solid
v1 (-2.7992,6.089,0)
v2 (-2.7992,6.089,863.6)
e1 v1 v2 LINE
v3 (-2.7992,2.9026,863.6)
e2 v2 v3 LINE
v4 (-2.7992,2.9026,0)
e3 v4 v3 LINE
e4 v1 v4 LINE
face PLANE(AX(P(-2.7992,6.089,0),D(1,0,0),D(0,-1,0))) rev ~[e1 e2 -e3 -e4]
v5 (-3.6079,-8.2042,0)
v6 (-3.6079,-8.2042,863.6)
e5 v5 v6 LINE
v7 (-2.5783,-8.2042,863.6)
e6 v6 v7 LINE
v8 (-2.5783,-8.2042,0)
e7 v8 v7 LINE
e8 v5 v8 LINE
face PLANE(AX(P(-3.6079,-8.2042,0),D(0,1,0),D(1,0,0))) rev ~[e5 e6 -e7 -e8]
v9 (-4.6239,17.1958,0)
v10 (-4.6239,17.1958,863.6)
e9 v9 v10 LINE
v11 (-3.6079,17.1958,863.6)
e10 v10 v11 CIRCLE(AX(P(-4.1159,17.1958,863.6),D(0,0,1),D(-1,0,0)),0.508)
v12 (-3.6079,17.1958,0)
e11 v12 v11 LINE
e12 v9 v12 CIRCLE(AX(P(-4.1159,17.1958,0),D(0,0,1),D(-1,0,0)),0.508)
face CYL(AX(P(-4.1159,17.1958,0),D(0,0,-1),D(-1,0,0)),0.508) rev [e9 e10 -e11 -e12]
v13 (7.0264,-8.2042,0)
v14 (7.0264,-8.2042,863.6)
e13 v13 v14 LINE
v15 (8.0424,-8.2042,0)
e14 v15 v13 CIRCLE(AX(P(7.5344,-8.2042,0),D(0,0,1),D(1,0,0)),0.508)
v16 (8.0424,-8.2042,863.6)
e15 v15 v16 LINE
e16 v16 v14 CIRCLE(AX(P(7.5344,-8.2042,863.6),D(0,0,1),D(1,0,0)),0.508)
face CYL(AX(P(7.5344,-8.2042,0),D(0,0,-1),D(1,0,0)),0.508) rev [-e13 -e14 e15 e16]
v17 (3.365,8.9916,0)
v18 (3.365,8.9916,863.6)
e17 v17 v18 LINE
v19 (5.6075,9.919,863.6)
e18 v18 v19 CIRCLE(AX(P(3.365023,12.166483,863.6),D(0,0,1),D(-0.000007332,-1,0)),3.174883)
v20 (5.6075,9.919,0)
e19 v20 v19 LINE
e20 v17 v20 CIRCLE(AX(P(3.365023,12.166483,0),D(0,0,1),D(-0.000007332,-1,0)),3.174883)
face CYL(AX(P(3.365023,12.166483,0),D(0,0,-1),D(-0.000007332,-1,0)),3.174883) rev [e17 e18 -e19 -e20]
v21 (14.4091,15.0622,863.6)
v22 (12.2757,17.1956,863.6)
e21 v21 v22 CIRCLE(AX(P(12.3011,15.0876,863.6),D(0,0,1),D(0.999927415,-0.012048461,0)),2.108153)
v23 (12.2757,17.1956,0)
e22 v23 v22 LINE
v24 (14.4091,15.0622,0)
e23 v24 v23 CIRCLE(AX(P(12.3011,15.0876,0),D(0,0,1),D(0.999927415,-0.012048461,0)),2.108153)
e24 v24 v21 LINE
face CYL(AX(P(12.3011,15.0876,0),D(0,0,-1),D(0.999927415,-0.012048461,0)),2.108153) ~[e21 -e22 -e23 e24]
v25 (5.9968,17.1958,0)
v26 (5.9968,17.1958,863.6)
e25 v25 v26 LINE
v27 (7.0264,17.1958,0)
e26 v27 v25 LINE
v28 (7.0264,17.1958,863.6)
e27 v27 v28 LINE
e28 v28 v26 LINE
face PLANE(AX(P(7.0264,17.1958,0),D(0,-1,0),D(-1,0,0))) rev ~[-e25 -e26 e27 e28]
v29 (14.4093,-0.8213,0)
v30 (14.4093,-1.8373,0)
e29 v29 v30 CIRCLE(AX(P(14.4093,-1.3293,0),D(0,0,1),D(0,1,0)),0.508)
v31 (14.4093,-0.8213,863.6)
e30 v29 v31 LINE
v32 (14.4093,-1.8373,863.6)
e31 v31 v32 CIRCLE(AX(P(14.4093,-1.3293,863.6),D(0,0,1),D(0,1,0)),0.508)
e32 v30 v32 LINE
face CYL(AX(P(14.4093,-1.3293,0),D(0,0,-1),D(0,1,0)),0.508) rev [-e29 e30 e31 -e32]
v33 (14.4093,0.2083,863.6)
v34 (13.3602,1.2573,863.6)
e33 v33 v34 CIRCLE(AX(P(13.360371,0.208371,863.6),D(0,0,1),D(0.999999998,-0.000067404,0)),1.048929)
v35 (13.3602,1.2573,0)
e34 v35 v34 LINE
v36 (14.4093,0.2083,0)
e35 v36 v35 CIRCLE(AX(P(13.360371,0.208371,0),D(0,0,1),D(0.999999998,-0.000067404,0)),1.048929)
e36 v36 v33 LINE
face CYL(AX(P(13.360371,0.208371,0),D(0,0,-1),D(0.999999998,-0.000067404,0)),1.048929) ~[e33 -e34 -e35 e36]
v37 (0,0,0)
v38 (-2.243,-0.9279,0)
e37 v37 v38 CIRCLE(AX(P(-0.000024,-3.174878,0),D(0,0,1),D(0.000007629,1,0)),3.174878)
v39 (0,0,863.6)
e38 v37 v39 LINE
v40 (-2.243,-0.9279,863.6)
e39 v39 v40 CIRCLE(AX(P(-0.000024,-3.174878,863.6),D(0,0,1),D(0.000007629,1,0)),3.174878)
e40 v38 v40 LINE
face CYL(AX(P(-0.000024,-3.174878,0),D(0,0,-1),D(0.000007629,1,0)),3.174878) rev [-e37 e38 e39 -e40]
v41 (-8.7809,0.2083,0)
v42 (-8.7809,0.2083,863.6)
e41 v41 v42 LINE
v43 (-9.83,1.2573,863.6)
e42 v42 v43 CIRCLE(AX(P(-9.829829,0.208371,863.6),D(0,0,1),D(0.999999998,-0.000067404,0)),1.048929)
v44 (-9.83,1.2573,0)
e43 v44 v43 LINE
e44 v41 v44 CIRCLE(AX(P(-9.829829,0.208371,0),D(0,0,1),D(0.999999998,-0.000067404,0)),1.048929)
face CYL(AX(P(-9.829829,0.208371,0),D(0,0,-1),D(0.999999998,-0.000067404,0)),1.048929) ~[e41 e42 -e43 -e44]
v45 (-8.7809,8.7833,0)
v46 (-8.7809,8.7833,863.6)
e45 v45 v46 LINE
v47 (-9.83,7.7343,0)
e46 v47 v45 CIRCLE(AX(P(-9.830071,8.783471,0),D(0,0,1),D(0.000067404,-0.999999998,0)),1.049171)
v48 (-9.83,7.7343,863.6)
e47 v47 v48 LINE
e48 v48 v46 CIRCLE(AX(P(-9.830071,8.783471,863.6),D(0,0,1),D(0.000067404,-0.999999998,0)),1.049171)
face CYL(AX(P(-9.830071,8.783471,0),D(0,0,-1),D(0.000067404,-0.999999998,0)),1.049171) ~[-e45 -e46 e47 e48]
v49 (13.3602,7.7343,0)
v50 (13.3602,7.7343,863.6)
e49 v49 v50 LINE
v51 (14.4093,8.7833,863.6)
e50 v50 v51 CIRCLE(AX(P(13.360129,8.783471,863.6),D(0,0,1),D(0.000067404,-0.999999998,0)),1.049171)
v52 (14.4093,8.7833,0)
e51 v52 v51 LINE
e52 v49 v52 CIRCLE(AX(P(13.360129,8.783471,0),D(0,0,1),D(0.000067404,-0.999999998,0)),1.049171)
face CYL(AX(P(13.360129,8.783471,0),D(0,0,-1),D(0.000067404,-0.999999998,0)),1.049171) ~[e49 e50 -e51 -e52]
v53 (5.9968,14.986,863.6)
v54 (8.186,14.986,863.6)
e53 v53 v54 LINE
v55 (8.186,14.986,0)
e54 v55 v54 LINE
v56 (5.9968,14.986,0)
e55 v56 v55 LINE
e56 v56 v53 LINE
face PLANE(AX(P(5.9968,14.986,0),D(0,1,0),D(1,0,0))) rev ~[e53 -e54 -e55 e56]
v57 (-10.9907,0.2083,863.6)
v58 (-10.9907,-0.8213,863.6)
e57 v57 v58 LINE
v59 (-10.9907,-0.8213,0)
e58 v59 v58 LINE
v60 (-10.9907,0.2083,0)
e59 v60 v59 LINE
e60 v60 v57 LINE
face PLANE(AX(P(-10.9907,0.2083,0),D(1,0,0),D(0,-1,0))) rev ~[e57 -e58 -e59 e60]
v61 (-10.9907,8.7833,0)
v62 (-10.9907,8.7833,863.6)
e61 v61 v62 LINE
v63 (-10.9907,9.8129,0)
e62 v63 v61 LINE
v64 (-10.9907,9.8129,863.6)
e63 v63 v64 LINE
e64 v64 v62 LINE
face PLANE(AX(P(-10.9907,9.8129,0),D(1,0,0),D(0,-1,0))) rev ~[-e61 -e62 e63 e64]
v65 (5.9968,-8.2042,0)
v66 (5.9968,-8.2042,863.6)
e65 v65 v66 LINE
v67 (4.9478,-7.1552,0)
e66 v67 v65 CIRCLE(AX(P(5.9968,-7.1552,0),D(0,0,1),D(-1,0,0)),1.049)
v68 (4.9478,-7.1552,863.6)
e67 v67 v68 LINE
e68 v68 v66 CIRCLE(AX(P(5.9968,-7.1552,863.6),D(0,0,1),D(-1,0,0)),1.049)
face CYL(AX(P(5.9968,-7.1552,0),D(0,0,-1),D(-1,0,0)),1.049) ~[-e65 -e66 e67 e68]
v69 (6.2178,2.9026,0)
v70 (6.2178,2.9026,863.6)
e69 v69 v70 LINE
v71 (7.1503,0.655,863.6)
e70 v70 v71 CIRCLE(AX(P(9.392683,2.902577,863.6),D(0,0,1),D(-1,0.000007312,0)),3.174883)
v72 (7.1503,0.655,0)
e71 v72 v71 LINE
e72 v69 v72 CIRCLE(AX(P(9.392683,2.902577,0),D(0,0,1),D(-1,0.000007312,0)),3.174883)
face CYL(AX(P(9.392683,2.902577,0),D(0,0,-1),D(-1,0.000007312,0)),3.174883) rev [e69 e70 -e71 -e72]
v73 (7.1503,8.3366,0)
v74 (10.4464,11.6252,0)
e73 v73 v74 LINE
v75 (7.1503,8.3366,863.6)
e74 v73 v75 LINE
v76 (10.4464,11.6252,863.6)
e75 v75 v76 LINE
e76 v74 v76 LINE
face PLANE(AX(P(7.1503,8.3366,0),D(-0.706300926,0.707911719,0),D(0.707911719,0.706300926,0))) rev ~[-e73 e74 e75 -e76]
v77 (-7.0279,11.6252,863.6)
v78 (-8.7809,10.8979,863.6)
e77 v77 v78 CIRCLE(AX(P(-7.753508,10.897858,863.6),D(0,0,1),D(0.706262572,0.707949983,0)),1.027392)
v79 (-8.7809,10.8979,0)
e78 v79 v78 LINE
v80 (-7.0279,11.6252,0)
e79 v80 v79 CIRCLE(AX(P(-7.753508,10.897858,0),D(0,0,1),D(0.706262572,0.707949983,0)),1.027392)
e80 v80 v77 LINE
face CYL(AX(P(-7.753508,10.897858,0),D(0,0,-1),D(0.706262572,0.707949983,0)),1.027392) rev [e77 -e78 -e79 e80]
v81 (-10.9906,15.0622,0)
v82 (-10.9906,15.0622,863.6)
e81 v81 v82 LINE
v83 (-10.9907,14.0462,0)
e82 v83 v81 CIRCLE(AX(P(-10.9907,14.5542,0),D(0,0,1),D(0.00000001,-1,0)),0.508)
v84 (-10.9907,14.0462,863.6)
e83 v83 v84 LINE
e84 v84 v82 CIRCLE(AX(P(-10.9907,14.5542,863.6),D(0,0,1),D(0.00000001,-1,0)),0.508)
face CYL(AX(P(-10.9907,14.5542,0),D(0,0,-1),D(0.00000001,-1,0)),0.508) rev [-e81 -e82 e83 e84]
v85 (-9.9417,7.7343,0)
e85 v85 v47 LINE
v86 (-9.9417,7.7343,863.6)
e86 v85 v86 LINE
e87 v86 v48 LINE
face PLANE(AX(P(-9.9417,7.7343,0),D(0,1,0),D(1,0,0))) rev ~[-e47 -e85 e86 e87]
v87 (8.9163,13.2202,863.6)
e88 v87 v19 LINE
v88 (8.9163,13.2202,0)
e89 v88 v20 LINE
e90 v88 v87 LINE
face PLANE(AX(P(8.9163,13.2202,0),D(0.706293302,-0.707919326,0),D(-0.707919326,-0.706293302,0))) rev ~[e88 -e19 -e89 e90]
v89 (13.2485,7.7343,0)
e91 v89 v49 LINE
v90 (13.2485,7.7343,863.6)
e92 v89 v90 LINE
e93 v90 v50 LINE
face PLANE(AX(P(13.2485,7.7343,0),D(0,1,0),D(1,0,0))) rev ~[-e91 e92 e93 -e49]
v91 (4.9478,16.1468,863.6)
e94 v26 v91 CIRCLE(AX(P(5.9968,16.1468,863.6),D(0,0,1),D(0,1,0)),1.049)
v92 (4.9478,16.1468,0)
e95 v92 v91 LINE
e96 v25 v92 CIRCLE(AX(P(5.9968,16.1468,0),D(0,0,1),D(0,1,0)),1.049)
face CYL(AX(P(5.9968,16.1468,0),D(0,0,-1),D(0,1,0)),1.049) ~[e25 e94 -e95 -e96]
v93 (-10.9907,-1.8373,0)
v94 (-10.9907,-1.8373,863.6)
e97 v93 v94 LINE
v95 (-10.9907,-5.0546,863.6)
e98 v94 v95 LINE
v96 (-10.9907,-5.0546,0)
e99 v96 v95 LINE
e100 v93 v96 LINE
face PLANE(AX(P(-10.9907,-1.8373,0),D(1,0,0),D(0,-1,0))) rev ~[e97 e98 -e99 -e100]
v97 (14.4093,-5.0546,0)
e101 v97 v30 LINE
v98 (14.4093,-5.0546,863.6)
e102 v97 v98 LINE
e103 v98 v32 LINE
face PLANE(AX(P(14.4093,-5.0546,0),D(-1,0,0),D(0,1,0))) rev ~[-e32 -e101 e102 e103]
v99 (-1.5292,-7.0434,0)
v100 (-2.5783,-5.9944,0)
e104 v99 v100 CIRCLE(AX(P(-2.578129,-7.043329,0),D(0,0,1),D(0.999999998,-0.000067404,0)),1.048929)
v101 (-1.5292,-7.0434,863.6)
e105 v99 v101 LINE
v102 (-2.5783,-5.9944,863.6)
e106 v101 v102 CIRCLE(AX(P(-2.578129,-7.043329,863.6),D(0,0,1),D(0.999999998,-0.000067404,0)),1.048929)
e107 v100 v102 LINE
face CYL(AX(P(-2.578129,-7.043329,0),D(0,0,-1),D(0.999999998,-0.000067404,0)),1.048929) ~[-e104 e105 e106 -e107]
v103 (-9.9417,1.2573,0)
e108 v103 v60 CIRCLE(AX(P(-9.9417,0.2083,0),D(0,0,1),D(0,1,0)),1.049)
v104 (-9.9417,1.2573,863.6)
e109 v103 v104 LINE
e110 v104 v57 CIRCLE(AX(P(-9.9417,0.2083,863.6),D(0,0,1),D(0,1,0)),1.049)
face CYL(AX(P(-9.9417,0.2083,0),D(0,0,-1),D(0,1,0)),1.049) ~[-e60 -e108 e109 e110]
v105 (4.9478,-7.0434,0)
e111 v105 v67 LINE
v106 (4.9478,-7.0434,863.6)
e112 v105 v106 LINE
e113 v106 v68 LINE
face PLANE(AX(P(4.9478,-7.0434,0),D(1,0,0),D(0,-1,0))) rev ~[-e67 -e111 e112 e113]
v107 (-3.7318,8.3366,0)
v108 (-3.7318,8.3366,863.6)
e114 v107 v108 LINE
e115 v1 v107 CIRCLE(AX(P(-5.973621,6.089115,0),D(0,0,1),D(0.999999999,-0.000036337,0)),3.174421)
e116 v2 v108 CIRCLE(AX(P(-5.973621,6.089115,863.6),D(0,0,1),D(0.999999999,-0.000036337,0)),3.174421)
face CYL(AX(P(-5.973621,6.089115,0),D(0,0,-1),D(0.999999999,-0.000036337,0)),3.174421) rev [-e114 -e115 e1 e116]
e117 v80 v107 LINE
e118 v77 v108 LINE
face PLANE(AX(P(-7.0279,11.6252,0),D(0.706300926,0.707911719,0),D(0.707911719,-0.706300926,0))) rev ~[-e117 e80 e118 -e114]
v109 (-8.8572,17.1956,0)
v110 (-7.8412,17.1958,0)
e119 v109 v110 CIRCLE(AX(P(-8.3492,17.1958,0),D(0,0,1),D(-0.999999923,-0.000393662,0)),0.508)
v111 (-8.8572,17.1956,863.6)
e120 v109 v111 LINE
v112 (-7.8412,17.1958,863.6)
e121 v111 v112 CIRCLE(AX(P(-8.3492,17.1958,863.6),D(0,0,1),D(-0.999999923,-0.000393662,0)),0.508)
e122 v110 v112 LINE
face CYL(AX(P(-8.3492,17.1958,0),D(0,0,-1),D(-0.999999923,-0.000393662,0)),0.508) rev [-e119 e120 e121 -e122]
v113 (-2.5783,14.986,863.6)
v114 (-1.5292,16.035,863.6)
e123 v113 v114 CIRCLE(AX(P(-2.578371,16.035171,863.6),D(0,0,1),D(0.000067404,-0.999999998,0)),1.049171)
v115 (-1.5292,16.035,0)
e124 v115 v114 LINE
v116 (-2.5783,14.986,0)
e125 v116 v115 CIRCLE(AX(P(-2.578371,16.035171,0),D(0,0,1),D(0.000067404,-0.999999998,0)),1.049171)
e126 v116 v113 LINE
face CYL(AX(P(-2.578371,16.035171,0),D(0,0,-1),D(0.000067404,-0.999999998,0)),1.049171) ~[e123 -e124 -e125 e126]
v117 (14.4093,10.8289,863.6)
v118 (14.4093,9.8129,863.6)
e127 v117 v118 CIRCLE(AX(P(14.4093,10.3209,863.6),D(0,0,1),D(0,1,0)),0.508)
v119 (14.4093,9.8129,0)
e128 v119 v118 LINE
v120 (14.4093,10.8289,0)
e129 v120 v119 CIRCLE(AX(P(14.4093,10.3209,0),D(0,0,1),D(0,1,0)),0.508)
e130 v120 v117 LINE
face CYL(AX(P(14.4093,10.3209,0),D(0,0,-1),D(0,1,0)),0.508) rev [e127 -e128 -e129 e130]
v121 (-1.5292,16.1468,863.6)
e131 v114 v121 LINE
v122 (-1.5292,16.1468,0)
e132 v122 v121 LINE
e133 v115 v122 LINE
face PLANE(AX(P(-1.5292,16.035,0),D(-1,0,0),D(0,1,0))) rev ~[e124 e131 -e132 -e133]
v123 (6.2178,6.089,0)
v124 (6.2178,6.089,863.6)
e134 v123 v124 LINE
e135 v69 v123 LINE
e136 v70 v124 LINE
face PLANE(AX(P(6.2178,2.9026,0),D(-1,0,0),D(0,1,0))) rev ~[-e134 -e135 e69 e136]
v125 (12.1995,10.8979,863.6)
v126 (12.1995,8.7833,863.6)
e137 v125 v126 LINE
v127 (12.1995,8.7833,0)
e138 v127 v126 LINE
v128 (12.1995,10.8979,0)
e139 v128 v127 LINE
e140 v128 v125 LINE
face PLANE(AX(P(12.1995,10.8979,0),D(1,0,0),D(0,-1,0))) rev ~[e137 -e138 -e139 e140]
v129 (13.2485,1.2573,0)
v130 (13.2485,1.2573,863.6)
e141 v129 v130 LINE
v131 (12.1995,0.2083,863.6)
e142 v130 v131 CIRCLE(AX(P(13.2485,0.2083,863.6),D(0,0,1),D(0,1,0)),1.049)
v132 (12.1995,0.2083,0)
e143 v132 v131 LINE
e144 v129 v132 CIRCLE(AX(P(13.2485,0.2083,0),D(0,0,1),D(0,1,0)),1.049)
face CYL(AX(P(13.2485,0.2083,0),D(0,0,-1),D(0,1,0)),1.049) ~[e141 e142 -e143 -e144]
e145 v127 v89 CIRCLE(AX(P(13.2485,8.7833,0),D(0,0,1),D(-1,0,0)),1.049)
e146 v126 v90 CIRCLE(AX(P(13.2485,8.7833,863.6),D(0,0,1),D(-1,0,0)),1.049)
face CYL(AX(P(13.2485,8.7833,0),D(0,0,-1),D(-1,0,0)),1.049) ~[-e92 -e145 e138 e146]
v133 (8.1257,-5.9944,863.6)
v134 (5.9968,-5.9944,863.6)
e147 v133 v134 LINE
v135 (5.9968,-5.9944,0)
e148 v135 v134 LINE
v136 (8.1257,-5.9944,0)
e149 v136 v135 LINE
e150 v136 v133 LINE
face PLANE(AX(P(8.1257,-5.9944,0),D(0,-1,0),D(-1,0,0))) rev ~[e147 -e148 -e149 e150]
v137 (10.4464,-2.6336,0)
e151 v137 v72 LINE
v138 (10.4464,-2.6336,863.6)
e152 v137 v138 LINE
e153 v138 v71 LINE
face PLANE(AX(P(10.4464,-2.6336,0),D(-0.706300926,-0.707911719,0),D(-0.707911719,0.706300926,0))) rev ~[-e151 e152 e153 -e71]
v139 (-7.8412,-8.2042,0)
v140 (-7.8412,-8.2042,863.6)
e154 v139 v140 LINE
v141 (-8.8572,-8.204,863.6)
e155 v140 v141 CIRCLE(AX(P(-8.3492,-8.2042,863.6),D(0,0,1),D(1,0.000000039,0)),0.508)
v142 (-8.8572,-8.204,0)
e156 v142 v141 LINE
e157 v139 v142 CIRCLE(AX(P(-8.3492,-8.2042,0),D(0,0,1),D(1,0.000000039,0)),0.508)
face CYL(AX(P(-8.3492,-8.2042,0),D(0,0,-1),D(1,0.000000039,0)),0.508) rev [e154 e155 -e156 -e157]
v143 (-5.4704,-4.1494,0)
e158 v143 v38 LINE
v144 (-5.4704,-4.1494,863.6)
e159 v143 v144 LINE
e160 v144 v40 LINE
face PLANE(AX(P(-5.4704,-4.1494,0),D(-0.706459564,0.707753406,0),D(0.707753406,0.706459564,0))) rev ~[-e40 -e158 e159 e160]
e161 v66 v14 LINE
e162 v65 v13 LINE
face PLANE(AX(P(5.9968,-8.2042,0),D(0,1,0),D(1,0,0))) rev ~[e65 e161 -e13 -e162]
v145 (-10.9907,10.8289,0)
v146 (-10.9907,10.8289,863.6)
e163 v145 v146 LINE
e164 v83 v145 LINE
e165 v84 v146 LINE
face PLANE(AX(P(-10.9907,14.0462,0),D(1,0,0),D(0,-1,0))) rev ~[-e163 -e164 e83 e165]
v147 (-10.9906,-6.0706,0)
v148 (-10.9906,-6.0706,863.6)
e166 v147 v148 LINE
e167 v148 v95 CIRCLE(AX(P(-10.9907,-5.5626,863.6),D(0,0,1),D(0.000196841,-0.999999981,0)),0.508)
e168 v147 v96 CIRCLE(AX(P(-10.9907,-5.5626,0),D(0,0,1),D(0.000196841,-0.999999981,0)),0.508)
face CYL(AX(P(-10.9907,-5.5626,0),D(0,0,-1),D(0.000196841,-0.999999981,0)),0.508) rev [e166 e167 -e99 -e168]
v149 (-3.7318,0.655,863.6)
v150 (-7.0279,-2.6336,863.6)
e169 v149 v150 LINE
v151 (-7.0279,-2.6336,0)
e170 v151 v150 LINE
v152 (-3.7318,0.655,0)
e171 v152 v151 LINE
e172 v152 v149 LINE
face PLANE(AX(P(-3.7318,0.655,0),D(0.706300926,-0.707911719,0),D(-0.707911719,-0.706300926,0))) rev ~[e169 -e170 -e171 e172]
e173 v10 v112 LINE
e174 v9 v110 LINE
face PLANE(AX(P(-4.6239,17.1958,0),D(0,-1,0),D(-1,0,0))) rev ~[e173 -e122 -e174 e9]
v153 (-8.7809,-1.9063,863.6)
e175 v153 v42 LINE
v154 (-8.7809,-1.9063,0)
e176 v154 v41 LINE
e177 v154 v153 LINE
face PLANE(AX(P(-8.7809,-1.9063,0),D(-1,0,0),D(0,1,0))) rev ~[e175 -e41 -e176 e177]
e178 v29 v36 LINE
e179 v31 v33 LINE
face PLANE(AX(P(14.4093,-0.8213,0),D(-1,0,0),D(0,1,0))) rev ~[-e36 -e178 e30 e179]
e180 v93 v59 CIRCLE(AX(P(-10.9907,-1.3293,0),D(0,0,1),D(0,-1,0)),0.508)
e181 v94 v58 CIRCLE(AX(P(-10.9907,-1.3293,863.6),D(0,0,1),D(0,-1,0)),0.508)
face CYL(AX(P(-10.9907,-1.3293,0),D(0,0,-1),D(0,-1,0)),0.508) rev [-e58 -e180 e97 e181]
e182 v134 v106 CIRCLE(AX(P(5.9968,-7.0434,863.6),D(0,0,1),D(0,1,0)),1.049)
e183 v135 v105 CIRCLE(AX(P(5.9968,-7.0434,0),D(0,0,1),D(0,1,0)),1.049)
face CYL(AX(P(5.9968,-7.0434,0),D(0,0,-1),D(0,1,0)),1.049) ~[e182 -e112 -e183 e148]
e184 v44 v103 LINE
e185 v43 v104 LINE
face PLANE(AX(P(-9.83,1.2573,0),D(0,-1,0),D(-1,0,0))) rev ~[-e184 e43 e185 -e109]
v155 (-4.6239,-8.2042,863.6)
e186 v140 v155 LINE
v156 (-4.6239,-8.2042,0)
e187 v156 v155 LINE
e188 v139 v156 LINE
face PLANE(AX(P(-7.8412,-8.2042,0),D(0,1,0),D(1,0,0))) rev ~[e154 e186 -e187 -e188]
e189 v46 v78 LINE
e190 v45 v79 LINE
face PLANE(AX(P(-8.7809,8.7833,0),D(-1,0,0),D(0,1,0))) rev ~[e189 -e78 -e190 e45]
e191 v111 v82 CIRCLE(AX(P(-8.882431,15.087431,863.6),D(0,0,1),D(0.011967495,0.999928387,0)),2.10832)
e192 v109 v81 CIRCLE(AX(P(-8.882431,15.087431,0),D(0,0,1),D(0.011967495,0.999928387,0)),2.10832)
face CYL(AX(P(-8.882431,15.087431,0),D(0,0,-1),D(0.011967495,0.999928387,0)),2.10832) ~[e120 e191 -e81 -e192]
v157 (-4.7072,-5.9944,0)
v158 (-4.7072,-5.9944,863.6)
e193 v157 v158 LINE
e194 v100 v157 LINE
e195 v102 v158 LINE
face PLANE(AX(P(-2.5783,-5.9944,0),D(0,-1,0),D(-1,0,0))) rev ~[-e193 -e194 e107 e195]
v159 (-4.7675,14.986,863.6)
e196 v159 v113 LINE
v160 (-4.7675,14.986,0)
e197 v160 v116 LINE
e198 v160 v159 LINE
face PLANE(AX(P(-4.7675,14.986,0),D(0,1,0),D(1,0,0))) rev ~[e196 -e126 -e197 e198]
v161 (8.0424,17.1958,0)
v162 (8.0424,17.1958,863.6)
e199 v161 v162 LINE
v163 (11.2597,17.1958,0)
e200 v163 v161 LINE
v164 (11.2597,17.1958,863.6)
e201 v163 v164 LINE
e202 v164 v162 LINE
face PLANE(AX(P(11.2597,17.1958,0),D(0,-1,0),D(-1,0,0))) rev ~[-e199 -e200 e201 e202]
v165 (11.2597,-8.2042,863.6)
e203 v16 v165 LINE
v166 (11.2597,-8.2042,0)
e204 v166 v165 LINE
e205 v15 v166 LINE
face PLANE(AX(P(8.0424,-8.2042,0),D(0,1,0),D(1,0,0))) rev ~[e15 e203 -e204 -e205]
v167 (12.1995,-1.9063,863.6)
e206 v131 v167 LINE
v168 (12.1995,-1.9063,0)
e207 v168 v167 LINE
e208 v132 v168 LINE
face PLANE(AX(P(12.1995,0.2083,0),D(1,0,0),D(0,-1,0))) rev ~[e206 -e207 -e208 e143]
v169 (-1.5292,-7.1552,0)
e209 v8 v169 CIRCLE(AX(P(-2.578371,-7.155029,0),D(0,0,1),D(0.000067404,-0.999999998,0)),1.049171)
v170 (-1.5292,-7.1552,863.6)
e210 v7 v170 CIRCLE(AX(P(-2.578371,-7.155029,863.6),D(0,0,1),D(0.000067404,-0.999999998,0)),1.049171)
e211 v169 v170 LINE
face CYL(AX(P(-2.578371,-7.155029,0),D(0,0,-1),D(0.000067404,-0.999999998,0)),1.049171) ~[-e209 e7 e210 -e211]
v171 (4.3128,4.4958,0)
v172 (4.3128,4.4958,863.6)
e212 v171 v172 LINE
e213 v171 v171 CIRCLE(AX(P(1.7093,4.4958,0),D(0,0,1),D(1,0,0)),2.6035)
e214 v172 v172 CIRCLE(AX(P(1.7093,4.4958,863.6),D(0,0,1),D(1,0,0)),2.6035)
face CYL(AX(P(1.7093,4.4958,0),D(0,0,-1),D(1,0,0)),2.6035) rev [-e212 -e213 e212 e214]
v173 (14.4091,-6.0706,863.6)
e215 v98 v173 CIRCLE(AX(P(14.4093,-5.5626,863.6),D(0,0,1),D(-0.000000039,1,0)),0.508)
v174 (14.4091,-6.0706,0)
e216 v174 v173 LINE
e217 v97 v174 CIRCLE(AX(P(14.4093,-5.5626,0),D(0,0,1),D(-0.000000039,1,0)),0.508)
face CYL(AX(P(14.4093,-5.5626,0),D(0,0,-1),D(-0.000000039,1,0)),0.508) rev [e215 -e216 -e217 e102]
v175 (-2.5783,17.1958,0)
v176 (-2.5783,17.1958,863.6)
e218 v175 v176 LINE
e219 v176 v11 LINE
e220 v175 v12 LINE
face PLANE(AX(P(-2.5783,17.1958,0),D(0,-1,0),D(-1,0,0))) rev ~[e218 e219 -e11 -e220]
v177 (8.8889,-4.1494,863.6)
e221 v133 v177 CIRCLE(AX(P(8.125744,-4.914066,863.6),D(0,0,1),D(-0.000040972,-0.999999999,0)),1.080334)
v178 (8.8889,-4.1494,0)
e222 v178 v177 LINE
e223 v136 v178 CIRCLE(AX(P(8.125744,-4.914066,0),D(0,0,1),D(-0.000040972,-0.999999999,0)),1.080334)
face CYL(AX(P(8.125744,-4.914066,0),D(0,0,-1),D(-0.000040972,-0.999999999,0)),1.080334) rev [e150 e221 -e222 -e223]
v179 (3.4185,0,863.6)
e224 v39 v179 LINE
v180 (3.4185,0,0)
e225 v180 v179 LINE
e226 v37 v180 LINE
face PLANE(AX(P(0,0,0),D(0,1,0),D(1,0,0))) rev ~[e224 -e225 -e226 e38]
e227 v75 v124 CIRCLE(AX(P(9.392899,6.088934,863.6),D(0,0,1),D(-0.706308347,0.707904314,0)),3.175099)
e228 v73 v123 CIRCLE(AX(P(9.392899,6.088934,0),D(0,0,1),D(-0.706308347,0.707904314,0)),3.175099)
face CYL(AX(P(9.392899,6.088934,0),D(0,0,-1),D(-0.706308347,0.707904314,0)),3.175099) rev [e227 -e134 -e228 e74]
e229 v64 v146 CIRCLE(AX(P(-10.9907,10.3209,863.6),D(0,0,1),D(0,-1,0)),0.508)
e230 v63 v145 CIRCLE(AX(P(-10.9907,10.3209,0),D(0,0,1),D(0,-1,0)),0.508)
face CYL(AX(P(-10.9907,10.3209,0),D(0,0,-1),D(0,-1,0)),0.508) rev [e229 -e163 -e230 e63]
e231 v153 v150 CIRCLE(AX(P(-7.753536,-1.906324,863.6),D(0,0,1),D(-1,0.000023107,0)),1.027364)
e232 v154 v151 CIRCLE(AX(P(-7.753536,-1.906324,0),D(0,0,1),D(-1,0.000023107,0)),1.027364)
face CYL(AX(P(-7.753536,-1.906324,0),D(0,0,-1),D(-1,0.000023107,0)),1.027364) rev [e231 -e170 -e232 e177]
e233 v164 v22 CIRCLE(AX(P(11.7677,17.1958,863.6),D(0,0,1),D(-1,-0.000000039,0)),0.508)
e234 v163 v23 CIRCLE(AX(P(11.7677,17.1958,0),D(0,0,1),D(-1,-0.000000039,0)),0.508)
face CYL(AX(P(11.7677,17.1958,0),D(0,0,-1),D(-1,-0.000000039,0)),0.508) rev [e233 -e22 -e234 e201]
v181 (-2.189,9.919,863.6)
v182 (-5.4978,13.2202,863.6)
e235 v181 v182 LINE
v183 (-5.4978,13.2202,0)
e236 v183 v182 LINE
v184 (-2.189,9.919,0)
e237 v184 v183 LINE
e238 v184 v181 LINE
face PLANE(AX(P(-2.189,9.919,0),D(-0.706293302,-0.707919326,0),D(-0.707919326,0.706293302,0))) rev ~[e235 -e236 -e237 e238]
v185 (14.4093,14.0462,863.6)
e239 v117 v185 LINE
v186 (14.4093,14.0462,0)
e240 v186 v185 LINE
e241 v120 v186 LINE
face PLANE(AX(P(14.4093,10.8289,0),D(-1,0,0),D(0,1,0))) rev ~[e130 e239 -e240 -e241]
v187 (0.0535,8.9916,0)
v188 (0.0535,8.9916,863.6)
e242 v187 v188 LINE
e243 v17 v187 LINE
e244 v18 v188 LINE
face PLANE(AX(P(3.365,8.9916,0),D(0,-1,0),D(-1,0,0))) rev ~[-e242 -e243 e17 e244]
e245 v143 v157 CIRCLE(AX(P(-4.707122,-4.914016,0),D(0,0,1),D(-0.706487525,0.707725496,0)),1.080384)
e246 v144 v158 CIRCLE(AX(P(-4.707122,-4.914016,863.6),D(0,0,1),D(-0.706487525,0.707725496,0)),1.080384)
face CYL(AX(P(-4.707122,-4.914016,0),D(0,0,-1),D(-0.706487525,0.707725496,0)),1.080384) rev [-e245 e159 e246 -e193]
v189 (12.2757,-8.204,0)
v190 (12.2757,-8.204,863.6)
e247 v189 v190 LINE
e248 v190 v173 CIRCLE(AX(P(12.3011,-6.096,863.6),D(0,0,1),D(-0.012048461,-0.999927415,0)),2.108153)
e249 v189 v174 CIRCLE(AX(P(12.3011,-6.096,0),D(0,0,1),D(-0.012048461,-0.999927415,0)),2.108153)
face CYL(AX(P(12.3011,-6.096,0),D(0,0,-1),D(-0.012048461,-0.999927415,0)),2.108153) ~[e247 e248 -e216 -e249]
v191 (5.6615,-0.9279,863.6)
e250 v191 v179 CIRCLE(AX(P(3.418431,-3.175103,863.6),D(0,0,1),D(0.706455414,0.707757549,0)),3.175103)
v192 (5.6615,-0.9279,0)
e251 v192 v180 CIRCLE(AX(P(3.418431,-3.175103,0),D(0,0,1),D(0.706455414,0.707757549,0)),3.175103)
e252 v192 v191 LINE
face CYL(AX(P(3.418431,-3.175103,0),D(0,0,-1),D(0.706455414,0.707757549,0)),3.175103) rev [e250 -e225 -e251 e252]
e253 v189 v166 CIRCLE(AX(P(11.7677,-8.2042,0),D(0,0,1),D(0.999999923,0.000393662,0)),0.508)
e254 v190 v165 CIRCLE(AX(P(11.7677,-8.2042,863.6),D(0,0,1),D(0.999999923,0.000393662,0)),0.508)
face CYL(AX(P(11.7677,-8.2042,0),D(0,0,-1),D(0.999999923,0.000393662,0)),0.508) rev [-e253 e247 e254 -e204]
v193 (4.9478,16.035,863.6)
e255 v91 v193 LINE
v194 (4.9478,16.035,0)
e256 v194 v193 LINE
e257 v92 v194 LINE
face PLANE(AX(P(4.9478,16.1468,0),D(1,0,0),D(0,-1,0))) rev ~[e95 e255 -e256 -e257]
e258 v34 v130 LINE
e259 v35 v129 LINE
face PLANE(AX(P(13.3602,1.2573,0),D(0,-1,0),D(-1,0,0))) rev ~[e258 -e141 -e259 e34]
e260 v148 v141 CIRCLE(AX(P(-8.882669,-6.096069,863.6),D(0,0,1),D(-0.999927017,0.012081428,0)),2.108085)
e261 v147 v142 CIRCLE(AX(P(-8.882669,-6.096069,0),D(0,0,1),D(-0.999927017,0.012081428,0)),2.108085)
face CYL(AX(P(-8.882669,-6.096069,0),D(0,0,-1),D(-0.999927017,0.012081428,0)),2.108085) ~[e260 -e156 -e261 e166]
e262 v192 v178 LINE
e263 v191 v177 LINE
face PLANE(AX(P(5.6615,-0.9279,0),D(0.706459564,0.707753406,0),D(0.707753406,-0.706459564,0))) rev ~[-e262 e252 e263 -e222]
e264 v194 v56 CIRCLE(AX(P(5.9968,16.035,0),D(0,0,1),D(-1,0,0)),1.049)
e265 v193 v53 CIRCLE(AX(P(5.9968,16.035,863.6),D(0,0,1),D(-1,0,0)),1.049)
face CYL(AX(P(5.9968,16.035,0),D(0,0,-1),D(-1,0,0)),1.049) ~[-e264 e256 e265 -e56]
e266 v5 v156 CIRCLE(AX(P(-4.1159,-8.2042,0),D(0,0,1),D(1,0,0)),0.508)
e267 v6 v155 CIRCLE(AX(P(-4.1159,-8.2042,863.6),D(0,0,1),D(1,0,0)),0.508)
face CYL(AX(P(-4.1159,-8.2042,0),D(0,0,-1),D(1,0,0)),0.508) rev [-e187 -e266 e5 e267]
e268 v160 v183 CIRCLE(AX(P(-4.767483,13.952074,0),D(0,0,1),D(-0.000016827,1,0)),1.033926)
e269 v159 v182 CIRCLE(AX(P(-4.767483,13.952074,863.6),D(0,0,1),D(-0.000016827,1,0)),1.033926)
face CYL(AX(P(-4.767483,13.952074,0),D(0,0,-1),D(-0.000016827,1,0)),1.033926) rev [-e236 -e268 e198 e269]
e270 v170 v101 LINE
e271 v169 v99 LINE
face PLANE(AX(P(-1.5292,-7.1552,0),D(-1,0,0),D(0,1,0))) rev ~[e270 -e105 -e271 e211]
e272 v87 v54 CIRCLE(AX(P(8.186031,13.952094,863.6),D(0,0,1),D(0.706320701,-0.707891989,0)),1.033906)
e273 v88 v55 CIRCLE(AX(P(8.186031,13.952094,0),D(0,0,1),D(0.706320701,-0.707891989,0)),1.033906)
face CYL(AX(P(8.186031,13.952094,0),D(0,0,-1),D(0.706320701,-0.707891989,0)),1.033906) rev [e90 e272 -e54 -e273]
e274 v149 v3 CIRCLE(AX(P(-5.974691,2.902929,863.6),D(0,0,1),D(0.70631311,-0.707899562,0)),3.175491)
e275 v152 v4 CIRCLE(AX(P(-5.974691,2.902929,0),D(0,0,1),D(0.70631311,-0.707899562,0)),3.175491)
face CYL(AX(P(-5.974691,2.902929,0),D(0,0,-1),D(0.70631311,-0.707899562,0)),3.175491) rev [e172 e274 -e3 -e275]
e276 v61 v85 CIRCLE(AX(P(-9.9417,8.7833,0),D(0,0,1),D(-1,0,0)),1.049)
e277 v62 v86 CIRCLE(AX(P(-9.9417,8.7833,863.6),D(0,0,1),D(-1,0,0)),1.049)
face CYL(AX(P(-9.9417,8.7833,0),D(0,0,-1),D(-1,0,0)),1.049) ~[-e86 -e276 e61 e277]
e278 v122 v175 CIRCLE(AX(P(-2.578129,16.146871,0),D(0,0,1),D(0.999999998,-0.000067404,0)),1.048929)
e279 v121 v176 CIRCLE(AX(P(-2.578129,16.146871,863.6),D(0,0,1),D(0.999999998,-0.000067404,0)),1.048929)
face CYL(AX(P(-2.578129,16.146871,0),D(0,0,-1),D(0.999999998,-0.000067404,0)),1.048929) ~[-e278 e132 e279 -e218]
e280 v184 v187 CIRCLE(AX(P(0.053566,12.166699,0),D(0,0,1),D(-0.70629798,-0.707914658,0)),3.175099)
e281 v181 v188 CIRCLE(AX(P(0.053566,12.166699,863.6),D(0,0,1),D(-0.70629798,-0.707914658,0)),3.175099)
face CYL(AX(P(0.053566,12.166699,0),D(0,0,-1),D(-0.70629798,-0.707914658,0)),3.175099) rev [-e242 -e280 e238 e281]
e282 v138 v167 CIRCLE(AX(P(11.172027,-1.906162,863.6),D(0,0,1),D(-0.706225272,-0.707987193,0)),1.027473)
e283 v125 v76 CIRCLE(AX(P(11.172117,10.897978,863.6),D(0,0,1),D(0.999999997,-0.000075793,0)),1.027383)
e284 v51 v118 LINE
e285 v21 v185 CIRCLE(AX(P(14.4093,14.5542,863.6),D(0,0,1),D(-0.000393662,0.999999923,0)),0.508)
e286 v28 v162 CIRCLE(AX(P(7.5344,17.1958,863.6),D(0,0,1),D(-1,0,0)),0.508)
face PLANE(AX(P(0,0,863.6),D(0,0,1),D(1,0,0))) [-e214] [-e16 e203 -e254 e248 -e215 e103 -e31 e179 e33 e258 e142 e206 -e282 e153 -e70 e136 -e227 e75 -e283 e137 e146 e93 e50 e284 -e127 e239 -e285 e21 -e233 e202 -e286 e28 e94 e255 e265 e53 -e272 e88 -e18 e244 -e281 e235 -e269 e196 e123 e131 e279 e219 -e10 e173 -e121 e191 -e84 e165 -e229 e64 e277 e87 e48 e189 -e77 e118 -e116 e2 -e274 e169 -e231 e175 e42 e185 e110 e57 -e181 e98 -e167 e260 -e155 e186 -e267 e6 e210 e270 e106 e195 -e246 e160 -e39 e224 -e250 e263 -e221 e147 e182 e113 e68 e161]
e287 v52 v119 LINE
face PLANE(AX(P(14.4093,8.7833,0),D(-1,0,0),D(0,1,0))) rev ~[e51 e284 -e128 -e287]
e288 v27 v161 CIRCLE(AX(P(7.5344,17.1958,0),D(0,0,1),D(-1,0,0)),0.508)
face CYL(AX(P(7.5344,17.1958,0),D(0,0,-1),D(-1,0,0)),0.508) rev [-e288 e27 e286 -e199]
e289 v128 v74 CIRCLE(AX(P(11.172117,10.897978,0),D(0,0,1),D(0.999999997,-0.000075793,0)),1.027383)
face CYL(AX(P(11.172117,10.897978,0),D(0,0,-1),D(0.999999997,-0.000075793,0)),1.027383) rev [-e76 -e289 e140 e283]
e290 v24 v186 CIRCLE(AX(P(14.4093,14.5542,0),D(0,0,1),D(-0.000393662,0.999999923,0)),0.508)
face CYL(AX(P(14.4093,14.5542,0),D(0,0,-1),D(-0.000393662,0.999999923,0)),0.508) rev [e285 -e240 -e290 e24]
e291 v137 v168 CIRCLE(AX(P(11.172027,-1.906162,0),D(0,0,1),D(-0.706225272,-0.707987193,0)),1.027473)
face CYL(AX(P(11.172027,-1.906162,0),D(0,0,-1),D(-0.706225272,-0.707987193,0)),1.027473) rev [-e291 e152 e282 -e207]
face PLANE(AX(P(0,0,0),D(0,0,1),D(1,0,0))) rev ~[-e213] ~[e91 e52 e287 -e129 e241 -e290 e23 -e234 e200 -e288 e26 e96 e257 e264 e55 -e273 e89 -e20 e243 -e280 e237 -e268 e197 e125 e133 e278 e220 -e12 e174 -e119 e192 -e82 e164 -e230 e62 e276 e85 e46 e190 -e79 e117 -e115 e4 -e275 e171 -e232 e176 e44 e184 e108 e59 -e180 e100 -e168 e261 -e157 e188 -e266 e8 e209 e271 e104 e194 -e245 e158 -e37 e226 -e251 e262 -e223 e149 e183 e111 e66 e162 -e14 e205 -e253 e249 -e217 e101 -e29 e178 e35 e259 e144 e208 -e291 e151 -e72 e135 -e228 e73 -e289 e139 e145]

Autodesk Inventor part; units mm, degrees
ref_plane "YZ Plane" through (0, 0, 0) normal (1, 0, 0) x (0, 1, 0)
ref_plane "XZ Plane" through (0, 0, 0) normal (0, 1, 0) x (-1, 0, 0)
ref_plane "XY Plane" through (0, 0, 0) normal (0, 0, 1) x (1, 0, 0)
sketch "Sketch1" plane through (0, 0, 0) normal (0, 0, 1) x (1, 0, 0)
  arc A0 (-5.4704, -4.1494) -> (-4.7072, -5.9944) centre (-4.7072, -4.914) ccw
  line L0 (-5.4704, -4.1494) -> (-2.243, -0.9279)
  arc A1 (0, 0) -> (-2.243, -0.9279) centre (0, -3.175) ccw
  line L1 (0, 0) -> (3.4185, 0)
  arc A2 (5.6615, -0.9279) -> (3.4185, 0) centre (3.4185, -3.175) ccw
  line L2 (5.6615, -0.9279) -> (8.8889, -4.1494)
  arc A3 (8.1257, -5.9944) -> (8.8889, -4.1494) centre (8.1257, -4.914) ccw
  line L3 (8.1257, -5.9944) -> (5.9968, -5.9944)
  arc A4 (5.9968, -5.9944) -> (4.9478, -7.0434) centre (5.9968, -7.0434) ccw
  line L4 (4.9478, -7.0434) -> (4.9478, -7.1552)
  arc A5 (4.9478, -7.1552) -> (5.9968, -8.2042) centre (5.9968, -7.1552) ccw
  line L5 (5.9968, -8.2042) -> (7.0264, -8.2042)
  arc A6 (8.0424, -8.2042) -> (7.0264, -8.2042) centre (7.5344, -8.2042) ccw
  line L6 (8.0424, -8.2042) -> (11.2597, -8.2042)
  arc A7 (12.2757, -8.204) -> (11.2597, -8.2042) centre (11.7677, -8.2042) ccw
  arc A8 (12.2757, -8.204) -> (14.4091, -6.0706) centre (12.3011, -6.096) ccw
  arc A9 (14.4093, -5.0546) -> (14.4091, -6.0706) centre (14.4093, -5.5626) ccw
  line L7 (14.4093, -5.0546) -> (14.4093, -1.8373)
  arc A10 (14.4093, -0.8213) -> (14.4093, -1.8373) centre (14.4093, -1.3293) ccw
  line L8 (14.4093, -0.8213) -> (14.4093, 0.2083)
  arc A11 (14.4093, 0.2083) -> (13.3602, 1.2573) centre (13.3602, 0.2083) ccw
  line L9 (13.3602, 1.2573) -> (13.2485, 1.2573)
  arc A12 (13.2485, 1.2573) -> (12.1995, 0.2083) centre (13.2485, 0.2083) ccw
  line L10 (12.1995, 0.2083) -> (12.1995, -1.9063)
  arc A13 (10.4464, -2.6336) -> (12.1995, -1.9063) centre (11.172, -1.9063) ccw
  line L11 (10.4464, -2.6336) -> (7.1503, 0.655)
  arc A14 (6.2178, 2.9026) -> (7.1503, 0.655) centre (9.3928, 2.9026) ccw
  line L12 (6.2178, 2.9026) -> (6.2178, 6.089)
  arc A15 (7.1503, 8.3366) -> (6.2178, 6.089) centre (9.3928, 6.089) ccw
  line L13 (7.1503, 8.3366) -> (10.4464, 11.6252)
  arc A16 (12.1995, 10.8979) -> (10.4464, 11.6252) centre (11.172, 10.8979) ccw
  line L14 (12.1995, 10.8979) -> (12.1995, 8.7833)
  arc A17 (12.1995, 8.7833) -> (13.2485, 7.7343) centre (13.2485, 8.7833) ccw
  line L15 (13.2485, 7.7343) -> (13.3602, 7.7343)
  arc A18 (13.3602, 7.7343) -> (14.4093, 8.7833) centre (13.3602, 8.7833) ccw
  line L16 (14.4093, 8.7833) -> (14.4093, 9.8129)
  arc A19 (14.4093, 10.8289) -> (14.4093, 9.8129) centre (14.4093, 10.3209) ccw
  line L17 (14.4093, 10.8289) -> (14.4093, 14.0462)
  arc A20 (14.4091, 15.0622) -> (14.4093, 14.0462) centre (14.4093, 14.5542) ccw
  arc A21 (14.4091, 15.0622) -> (12.2757, 17.1956) centre (12.3011, 15.0876) ccw
  arc A22 (11.2597, 17.1958) -> (12.2757, 17.1956) centre (11.7677, 17.1958) ccw
  line L18 (11.2597, 17.1958) -> (8.0424, 17.1958)
  arc A23 (7.0264, 17.1958) -> (8.0424, 17.1958) centre (7.5344, 17.1958) ccw
  line L19 (7.0264, 17.1958) -> (5.9968, 17.1958)
  arc A24 (5.9968, 17.1958) -> (4.9478, 16.1468) centre (5.9968, 16.1468) ccw
  line L20 (4.9478, 16.1468) -> (4.9478, 16.035)
  arc A25 (4.9478, 16.035) -> (5.9968, 14.986) centre (5.9968, 16.035) ccw
  line L21 (5.9968, 14.986) -> (8.186, 14.986)
  arc A26 (8.9163, 13.2202) -> (8.186, 14.986) centre (8.186, 13.9521) ccw
  line L22 (8.9163, 13.2202) -> (5.6075, 9.919)
  arc A27 (3.365, 8.9916) -> (5.6075, 9.919) centre (3.365, 12.1666) ccw
  line L23 (3.365, 8.9916) -> (0.0535, 8.9916)
  arc A28 (-2.189, 9.919) -> (0.0535, 8.9916) centre (0.0535, 12.1666) ccw
  line L24 (-2.189, 9.919) -> (-5.4978, 13.2202)
  arc A29 (-4.7675, 14.986) -> (-5.4978, 13.2202) centre (-4.7675, 13.9521) ccw
  line L25 (-4.7675, 14.986) -> (-2.5783, 14.986)
  arc A30 (-2.5783, 14.986) -> (-1.5292, 16.035) centre (-2.5783, 16.035) ccw
  line L26 (-1.5292, 16.035) -> (-1.5292, 16.1468)
  arc A31 (-1.5292, 16.1468) -> (-2.5783, 17.1958) centre (-2.5783, 16.1468) ccw
  line L27 (-2.5783, 17.1958) -> (-3.6079, 17.1958)
  arc A32 (-4.6239, 17.1958) -> (-3.6079, 17.1958) centre (-4.1159, 17.1958) ccw
  line L28 (-4.6239, 17.1958) -> (-7.8412, 17.1958)
  arc A33 (-8.8572, 17.1956) -> (-7.8412, 17.1958) centre (-8.3492, 17.1958) ccw
  arc A34 (-8.8572, 17.1956) -> (-10.9906, 15.0622) centre (-8.8825, 15.0876) ccw
  arc A35 (-10.9907, 14.0462) -> (-10.9906, 15.0622) centre (-10.9907, 14.5542) ccw
  line L29 (-10.9907, 14.0462) -> (-10.9907, 10.8289)
  arc A36 (-10.9907, 9.8129) -> (-10.9907, 10.8289) centre (-10.9907, 10.3209) ccw
  line L30 (-10.9907, 9.8129) -> (-10.9907, 8.7833)
  arc A37 (-10.9907, 8.7833) -> (-9.9417, 7.7343) centre (-9.9417, 8.7833) ccw
  line L31 (-9.9417, 7.7343) -> (-9.83, 7.7343)
  arc A38 (-9.83, 7.7343) -> (-8.7809, 8.7833) centre (-9.83, 8.7833) ccw
  line L32 (-8.7809, 8.7833) -> (-8.7809, 10.8979)
  arc A39 (-7.0279, 11.6252) -> (-8.7809, 10.8979) centre (-7.7535, 10.8979) ccw
  line L33 (-7.0279, 11.6252) -> (-3.7318, 8.3366)
  arc A40 (-2.7992, 6.089) -> (-3.7318, 8.3366) centre (-5.9742, 6.089) ccw
  line L34 (-2.7992, 6.089) -> (-2.7992, 2.9026)
  arc A41 (-3.7318, 0.655) -> (-2.7992, 2.9026) centre (-5.9742, 2.9026) ccw
  line L35 (-3.7318, 0.655) -> (-7.0279, -2.6336)
  arc A42 (-8.7809, -1.9063) -> (-7.0279, -2.6336) centre (-7.7535, -1.9063) ccw
  line L36 (-8.7809, -1.9063) -> (-8.7809, 0.2083)
  arc A43 (-8.7809, 0.2083) -> (-9.83, 1.2573) centre (-9.83, 0.2083) ccw
  line L37 (-9.83, 1.2573) -> (-9.9417, 1.2573)
  arc A44 (-9.9417, 1.2573) -> (-10.9907, 0.2083) centre (-9.9417, 0.2083) ccw
  line L38 (-10.9907, 0.2083) -> (-10.9907, -0.8213)
  arc A45 (-10.9907, -1.8373) -> (-10.9907, -0.8213) centre (-10.9907, -1.3293) ccw
  line L39 (-10.9907, -1.8373) -> (-10.9907, -5.0546)
  arc A46 (-10.9906, -6.0706) -> (-10.9907, -5.0546) centre (-10.9907, -5.5626) ccw
  arc A47 (-10.9906, -6.0706) -> (-8.8572, -8.204) centre (-8.8825, -6.096) ccw
  arc A48 (-7.8412, -8.2042) -> (-8.8572, -8.204) centre (-8.3492, -8.2042) ccw
  line L40 (-7.8412, -8.2042) -> (-4.6239, -8.2042)
  arc A49 (-3.6079, -8.2042) -> (-4.6239, -8.2042) centre (-4.1159, -8.2042) ccw
  line L41 (-3.6079, -8.2042) -> (-2.5783, -8.2042)
  arc A50 (-2.5783, -8.2042) -> (-1.5292, -7.1552) centre (-2.5783, -7.1552) ccw
  line L42 (-1.5292, -7.1552) -> (-1.5292, -7.0434)
  arc A51 (-1.5292, -7.0434) -> (-2.5783, -5.9944) centre (-2.5783, -7.0434) ccw
  line L43 (-2.5783, -5.9944) -> (-4.7072, -5.9944)
  circle A52 centre (1.7093, 4.4958) radius 2.6035
extrude "Extrusion1" add sketch "Sketch1" along normal blind 863.6
properties part number "34 in 1x1 T slot" material "Steel, Alloy"
